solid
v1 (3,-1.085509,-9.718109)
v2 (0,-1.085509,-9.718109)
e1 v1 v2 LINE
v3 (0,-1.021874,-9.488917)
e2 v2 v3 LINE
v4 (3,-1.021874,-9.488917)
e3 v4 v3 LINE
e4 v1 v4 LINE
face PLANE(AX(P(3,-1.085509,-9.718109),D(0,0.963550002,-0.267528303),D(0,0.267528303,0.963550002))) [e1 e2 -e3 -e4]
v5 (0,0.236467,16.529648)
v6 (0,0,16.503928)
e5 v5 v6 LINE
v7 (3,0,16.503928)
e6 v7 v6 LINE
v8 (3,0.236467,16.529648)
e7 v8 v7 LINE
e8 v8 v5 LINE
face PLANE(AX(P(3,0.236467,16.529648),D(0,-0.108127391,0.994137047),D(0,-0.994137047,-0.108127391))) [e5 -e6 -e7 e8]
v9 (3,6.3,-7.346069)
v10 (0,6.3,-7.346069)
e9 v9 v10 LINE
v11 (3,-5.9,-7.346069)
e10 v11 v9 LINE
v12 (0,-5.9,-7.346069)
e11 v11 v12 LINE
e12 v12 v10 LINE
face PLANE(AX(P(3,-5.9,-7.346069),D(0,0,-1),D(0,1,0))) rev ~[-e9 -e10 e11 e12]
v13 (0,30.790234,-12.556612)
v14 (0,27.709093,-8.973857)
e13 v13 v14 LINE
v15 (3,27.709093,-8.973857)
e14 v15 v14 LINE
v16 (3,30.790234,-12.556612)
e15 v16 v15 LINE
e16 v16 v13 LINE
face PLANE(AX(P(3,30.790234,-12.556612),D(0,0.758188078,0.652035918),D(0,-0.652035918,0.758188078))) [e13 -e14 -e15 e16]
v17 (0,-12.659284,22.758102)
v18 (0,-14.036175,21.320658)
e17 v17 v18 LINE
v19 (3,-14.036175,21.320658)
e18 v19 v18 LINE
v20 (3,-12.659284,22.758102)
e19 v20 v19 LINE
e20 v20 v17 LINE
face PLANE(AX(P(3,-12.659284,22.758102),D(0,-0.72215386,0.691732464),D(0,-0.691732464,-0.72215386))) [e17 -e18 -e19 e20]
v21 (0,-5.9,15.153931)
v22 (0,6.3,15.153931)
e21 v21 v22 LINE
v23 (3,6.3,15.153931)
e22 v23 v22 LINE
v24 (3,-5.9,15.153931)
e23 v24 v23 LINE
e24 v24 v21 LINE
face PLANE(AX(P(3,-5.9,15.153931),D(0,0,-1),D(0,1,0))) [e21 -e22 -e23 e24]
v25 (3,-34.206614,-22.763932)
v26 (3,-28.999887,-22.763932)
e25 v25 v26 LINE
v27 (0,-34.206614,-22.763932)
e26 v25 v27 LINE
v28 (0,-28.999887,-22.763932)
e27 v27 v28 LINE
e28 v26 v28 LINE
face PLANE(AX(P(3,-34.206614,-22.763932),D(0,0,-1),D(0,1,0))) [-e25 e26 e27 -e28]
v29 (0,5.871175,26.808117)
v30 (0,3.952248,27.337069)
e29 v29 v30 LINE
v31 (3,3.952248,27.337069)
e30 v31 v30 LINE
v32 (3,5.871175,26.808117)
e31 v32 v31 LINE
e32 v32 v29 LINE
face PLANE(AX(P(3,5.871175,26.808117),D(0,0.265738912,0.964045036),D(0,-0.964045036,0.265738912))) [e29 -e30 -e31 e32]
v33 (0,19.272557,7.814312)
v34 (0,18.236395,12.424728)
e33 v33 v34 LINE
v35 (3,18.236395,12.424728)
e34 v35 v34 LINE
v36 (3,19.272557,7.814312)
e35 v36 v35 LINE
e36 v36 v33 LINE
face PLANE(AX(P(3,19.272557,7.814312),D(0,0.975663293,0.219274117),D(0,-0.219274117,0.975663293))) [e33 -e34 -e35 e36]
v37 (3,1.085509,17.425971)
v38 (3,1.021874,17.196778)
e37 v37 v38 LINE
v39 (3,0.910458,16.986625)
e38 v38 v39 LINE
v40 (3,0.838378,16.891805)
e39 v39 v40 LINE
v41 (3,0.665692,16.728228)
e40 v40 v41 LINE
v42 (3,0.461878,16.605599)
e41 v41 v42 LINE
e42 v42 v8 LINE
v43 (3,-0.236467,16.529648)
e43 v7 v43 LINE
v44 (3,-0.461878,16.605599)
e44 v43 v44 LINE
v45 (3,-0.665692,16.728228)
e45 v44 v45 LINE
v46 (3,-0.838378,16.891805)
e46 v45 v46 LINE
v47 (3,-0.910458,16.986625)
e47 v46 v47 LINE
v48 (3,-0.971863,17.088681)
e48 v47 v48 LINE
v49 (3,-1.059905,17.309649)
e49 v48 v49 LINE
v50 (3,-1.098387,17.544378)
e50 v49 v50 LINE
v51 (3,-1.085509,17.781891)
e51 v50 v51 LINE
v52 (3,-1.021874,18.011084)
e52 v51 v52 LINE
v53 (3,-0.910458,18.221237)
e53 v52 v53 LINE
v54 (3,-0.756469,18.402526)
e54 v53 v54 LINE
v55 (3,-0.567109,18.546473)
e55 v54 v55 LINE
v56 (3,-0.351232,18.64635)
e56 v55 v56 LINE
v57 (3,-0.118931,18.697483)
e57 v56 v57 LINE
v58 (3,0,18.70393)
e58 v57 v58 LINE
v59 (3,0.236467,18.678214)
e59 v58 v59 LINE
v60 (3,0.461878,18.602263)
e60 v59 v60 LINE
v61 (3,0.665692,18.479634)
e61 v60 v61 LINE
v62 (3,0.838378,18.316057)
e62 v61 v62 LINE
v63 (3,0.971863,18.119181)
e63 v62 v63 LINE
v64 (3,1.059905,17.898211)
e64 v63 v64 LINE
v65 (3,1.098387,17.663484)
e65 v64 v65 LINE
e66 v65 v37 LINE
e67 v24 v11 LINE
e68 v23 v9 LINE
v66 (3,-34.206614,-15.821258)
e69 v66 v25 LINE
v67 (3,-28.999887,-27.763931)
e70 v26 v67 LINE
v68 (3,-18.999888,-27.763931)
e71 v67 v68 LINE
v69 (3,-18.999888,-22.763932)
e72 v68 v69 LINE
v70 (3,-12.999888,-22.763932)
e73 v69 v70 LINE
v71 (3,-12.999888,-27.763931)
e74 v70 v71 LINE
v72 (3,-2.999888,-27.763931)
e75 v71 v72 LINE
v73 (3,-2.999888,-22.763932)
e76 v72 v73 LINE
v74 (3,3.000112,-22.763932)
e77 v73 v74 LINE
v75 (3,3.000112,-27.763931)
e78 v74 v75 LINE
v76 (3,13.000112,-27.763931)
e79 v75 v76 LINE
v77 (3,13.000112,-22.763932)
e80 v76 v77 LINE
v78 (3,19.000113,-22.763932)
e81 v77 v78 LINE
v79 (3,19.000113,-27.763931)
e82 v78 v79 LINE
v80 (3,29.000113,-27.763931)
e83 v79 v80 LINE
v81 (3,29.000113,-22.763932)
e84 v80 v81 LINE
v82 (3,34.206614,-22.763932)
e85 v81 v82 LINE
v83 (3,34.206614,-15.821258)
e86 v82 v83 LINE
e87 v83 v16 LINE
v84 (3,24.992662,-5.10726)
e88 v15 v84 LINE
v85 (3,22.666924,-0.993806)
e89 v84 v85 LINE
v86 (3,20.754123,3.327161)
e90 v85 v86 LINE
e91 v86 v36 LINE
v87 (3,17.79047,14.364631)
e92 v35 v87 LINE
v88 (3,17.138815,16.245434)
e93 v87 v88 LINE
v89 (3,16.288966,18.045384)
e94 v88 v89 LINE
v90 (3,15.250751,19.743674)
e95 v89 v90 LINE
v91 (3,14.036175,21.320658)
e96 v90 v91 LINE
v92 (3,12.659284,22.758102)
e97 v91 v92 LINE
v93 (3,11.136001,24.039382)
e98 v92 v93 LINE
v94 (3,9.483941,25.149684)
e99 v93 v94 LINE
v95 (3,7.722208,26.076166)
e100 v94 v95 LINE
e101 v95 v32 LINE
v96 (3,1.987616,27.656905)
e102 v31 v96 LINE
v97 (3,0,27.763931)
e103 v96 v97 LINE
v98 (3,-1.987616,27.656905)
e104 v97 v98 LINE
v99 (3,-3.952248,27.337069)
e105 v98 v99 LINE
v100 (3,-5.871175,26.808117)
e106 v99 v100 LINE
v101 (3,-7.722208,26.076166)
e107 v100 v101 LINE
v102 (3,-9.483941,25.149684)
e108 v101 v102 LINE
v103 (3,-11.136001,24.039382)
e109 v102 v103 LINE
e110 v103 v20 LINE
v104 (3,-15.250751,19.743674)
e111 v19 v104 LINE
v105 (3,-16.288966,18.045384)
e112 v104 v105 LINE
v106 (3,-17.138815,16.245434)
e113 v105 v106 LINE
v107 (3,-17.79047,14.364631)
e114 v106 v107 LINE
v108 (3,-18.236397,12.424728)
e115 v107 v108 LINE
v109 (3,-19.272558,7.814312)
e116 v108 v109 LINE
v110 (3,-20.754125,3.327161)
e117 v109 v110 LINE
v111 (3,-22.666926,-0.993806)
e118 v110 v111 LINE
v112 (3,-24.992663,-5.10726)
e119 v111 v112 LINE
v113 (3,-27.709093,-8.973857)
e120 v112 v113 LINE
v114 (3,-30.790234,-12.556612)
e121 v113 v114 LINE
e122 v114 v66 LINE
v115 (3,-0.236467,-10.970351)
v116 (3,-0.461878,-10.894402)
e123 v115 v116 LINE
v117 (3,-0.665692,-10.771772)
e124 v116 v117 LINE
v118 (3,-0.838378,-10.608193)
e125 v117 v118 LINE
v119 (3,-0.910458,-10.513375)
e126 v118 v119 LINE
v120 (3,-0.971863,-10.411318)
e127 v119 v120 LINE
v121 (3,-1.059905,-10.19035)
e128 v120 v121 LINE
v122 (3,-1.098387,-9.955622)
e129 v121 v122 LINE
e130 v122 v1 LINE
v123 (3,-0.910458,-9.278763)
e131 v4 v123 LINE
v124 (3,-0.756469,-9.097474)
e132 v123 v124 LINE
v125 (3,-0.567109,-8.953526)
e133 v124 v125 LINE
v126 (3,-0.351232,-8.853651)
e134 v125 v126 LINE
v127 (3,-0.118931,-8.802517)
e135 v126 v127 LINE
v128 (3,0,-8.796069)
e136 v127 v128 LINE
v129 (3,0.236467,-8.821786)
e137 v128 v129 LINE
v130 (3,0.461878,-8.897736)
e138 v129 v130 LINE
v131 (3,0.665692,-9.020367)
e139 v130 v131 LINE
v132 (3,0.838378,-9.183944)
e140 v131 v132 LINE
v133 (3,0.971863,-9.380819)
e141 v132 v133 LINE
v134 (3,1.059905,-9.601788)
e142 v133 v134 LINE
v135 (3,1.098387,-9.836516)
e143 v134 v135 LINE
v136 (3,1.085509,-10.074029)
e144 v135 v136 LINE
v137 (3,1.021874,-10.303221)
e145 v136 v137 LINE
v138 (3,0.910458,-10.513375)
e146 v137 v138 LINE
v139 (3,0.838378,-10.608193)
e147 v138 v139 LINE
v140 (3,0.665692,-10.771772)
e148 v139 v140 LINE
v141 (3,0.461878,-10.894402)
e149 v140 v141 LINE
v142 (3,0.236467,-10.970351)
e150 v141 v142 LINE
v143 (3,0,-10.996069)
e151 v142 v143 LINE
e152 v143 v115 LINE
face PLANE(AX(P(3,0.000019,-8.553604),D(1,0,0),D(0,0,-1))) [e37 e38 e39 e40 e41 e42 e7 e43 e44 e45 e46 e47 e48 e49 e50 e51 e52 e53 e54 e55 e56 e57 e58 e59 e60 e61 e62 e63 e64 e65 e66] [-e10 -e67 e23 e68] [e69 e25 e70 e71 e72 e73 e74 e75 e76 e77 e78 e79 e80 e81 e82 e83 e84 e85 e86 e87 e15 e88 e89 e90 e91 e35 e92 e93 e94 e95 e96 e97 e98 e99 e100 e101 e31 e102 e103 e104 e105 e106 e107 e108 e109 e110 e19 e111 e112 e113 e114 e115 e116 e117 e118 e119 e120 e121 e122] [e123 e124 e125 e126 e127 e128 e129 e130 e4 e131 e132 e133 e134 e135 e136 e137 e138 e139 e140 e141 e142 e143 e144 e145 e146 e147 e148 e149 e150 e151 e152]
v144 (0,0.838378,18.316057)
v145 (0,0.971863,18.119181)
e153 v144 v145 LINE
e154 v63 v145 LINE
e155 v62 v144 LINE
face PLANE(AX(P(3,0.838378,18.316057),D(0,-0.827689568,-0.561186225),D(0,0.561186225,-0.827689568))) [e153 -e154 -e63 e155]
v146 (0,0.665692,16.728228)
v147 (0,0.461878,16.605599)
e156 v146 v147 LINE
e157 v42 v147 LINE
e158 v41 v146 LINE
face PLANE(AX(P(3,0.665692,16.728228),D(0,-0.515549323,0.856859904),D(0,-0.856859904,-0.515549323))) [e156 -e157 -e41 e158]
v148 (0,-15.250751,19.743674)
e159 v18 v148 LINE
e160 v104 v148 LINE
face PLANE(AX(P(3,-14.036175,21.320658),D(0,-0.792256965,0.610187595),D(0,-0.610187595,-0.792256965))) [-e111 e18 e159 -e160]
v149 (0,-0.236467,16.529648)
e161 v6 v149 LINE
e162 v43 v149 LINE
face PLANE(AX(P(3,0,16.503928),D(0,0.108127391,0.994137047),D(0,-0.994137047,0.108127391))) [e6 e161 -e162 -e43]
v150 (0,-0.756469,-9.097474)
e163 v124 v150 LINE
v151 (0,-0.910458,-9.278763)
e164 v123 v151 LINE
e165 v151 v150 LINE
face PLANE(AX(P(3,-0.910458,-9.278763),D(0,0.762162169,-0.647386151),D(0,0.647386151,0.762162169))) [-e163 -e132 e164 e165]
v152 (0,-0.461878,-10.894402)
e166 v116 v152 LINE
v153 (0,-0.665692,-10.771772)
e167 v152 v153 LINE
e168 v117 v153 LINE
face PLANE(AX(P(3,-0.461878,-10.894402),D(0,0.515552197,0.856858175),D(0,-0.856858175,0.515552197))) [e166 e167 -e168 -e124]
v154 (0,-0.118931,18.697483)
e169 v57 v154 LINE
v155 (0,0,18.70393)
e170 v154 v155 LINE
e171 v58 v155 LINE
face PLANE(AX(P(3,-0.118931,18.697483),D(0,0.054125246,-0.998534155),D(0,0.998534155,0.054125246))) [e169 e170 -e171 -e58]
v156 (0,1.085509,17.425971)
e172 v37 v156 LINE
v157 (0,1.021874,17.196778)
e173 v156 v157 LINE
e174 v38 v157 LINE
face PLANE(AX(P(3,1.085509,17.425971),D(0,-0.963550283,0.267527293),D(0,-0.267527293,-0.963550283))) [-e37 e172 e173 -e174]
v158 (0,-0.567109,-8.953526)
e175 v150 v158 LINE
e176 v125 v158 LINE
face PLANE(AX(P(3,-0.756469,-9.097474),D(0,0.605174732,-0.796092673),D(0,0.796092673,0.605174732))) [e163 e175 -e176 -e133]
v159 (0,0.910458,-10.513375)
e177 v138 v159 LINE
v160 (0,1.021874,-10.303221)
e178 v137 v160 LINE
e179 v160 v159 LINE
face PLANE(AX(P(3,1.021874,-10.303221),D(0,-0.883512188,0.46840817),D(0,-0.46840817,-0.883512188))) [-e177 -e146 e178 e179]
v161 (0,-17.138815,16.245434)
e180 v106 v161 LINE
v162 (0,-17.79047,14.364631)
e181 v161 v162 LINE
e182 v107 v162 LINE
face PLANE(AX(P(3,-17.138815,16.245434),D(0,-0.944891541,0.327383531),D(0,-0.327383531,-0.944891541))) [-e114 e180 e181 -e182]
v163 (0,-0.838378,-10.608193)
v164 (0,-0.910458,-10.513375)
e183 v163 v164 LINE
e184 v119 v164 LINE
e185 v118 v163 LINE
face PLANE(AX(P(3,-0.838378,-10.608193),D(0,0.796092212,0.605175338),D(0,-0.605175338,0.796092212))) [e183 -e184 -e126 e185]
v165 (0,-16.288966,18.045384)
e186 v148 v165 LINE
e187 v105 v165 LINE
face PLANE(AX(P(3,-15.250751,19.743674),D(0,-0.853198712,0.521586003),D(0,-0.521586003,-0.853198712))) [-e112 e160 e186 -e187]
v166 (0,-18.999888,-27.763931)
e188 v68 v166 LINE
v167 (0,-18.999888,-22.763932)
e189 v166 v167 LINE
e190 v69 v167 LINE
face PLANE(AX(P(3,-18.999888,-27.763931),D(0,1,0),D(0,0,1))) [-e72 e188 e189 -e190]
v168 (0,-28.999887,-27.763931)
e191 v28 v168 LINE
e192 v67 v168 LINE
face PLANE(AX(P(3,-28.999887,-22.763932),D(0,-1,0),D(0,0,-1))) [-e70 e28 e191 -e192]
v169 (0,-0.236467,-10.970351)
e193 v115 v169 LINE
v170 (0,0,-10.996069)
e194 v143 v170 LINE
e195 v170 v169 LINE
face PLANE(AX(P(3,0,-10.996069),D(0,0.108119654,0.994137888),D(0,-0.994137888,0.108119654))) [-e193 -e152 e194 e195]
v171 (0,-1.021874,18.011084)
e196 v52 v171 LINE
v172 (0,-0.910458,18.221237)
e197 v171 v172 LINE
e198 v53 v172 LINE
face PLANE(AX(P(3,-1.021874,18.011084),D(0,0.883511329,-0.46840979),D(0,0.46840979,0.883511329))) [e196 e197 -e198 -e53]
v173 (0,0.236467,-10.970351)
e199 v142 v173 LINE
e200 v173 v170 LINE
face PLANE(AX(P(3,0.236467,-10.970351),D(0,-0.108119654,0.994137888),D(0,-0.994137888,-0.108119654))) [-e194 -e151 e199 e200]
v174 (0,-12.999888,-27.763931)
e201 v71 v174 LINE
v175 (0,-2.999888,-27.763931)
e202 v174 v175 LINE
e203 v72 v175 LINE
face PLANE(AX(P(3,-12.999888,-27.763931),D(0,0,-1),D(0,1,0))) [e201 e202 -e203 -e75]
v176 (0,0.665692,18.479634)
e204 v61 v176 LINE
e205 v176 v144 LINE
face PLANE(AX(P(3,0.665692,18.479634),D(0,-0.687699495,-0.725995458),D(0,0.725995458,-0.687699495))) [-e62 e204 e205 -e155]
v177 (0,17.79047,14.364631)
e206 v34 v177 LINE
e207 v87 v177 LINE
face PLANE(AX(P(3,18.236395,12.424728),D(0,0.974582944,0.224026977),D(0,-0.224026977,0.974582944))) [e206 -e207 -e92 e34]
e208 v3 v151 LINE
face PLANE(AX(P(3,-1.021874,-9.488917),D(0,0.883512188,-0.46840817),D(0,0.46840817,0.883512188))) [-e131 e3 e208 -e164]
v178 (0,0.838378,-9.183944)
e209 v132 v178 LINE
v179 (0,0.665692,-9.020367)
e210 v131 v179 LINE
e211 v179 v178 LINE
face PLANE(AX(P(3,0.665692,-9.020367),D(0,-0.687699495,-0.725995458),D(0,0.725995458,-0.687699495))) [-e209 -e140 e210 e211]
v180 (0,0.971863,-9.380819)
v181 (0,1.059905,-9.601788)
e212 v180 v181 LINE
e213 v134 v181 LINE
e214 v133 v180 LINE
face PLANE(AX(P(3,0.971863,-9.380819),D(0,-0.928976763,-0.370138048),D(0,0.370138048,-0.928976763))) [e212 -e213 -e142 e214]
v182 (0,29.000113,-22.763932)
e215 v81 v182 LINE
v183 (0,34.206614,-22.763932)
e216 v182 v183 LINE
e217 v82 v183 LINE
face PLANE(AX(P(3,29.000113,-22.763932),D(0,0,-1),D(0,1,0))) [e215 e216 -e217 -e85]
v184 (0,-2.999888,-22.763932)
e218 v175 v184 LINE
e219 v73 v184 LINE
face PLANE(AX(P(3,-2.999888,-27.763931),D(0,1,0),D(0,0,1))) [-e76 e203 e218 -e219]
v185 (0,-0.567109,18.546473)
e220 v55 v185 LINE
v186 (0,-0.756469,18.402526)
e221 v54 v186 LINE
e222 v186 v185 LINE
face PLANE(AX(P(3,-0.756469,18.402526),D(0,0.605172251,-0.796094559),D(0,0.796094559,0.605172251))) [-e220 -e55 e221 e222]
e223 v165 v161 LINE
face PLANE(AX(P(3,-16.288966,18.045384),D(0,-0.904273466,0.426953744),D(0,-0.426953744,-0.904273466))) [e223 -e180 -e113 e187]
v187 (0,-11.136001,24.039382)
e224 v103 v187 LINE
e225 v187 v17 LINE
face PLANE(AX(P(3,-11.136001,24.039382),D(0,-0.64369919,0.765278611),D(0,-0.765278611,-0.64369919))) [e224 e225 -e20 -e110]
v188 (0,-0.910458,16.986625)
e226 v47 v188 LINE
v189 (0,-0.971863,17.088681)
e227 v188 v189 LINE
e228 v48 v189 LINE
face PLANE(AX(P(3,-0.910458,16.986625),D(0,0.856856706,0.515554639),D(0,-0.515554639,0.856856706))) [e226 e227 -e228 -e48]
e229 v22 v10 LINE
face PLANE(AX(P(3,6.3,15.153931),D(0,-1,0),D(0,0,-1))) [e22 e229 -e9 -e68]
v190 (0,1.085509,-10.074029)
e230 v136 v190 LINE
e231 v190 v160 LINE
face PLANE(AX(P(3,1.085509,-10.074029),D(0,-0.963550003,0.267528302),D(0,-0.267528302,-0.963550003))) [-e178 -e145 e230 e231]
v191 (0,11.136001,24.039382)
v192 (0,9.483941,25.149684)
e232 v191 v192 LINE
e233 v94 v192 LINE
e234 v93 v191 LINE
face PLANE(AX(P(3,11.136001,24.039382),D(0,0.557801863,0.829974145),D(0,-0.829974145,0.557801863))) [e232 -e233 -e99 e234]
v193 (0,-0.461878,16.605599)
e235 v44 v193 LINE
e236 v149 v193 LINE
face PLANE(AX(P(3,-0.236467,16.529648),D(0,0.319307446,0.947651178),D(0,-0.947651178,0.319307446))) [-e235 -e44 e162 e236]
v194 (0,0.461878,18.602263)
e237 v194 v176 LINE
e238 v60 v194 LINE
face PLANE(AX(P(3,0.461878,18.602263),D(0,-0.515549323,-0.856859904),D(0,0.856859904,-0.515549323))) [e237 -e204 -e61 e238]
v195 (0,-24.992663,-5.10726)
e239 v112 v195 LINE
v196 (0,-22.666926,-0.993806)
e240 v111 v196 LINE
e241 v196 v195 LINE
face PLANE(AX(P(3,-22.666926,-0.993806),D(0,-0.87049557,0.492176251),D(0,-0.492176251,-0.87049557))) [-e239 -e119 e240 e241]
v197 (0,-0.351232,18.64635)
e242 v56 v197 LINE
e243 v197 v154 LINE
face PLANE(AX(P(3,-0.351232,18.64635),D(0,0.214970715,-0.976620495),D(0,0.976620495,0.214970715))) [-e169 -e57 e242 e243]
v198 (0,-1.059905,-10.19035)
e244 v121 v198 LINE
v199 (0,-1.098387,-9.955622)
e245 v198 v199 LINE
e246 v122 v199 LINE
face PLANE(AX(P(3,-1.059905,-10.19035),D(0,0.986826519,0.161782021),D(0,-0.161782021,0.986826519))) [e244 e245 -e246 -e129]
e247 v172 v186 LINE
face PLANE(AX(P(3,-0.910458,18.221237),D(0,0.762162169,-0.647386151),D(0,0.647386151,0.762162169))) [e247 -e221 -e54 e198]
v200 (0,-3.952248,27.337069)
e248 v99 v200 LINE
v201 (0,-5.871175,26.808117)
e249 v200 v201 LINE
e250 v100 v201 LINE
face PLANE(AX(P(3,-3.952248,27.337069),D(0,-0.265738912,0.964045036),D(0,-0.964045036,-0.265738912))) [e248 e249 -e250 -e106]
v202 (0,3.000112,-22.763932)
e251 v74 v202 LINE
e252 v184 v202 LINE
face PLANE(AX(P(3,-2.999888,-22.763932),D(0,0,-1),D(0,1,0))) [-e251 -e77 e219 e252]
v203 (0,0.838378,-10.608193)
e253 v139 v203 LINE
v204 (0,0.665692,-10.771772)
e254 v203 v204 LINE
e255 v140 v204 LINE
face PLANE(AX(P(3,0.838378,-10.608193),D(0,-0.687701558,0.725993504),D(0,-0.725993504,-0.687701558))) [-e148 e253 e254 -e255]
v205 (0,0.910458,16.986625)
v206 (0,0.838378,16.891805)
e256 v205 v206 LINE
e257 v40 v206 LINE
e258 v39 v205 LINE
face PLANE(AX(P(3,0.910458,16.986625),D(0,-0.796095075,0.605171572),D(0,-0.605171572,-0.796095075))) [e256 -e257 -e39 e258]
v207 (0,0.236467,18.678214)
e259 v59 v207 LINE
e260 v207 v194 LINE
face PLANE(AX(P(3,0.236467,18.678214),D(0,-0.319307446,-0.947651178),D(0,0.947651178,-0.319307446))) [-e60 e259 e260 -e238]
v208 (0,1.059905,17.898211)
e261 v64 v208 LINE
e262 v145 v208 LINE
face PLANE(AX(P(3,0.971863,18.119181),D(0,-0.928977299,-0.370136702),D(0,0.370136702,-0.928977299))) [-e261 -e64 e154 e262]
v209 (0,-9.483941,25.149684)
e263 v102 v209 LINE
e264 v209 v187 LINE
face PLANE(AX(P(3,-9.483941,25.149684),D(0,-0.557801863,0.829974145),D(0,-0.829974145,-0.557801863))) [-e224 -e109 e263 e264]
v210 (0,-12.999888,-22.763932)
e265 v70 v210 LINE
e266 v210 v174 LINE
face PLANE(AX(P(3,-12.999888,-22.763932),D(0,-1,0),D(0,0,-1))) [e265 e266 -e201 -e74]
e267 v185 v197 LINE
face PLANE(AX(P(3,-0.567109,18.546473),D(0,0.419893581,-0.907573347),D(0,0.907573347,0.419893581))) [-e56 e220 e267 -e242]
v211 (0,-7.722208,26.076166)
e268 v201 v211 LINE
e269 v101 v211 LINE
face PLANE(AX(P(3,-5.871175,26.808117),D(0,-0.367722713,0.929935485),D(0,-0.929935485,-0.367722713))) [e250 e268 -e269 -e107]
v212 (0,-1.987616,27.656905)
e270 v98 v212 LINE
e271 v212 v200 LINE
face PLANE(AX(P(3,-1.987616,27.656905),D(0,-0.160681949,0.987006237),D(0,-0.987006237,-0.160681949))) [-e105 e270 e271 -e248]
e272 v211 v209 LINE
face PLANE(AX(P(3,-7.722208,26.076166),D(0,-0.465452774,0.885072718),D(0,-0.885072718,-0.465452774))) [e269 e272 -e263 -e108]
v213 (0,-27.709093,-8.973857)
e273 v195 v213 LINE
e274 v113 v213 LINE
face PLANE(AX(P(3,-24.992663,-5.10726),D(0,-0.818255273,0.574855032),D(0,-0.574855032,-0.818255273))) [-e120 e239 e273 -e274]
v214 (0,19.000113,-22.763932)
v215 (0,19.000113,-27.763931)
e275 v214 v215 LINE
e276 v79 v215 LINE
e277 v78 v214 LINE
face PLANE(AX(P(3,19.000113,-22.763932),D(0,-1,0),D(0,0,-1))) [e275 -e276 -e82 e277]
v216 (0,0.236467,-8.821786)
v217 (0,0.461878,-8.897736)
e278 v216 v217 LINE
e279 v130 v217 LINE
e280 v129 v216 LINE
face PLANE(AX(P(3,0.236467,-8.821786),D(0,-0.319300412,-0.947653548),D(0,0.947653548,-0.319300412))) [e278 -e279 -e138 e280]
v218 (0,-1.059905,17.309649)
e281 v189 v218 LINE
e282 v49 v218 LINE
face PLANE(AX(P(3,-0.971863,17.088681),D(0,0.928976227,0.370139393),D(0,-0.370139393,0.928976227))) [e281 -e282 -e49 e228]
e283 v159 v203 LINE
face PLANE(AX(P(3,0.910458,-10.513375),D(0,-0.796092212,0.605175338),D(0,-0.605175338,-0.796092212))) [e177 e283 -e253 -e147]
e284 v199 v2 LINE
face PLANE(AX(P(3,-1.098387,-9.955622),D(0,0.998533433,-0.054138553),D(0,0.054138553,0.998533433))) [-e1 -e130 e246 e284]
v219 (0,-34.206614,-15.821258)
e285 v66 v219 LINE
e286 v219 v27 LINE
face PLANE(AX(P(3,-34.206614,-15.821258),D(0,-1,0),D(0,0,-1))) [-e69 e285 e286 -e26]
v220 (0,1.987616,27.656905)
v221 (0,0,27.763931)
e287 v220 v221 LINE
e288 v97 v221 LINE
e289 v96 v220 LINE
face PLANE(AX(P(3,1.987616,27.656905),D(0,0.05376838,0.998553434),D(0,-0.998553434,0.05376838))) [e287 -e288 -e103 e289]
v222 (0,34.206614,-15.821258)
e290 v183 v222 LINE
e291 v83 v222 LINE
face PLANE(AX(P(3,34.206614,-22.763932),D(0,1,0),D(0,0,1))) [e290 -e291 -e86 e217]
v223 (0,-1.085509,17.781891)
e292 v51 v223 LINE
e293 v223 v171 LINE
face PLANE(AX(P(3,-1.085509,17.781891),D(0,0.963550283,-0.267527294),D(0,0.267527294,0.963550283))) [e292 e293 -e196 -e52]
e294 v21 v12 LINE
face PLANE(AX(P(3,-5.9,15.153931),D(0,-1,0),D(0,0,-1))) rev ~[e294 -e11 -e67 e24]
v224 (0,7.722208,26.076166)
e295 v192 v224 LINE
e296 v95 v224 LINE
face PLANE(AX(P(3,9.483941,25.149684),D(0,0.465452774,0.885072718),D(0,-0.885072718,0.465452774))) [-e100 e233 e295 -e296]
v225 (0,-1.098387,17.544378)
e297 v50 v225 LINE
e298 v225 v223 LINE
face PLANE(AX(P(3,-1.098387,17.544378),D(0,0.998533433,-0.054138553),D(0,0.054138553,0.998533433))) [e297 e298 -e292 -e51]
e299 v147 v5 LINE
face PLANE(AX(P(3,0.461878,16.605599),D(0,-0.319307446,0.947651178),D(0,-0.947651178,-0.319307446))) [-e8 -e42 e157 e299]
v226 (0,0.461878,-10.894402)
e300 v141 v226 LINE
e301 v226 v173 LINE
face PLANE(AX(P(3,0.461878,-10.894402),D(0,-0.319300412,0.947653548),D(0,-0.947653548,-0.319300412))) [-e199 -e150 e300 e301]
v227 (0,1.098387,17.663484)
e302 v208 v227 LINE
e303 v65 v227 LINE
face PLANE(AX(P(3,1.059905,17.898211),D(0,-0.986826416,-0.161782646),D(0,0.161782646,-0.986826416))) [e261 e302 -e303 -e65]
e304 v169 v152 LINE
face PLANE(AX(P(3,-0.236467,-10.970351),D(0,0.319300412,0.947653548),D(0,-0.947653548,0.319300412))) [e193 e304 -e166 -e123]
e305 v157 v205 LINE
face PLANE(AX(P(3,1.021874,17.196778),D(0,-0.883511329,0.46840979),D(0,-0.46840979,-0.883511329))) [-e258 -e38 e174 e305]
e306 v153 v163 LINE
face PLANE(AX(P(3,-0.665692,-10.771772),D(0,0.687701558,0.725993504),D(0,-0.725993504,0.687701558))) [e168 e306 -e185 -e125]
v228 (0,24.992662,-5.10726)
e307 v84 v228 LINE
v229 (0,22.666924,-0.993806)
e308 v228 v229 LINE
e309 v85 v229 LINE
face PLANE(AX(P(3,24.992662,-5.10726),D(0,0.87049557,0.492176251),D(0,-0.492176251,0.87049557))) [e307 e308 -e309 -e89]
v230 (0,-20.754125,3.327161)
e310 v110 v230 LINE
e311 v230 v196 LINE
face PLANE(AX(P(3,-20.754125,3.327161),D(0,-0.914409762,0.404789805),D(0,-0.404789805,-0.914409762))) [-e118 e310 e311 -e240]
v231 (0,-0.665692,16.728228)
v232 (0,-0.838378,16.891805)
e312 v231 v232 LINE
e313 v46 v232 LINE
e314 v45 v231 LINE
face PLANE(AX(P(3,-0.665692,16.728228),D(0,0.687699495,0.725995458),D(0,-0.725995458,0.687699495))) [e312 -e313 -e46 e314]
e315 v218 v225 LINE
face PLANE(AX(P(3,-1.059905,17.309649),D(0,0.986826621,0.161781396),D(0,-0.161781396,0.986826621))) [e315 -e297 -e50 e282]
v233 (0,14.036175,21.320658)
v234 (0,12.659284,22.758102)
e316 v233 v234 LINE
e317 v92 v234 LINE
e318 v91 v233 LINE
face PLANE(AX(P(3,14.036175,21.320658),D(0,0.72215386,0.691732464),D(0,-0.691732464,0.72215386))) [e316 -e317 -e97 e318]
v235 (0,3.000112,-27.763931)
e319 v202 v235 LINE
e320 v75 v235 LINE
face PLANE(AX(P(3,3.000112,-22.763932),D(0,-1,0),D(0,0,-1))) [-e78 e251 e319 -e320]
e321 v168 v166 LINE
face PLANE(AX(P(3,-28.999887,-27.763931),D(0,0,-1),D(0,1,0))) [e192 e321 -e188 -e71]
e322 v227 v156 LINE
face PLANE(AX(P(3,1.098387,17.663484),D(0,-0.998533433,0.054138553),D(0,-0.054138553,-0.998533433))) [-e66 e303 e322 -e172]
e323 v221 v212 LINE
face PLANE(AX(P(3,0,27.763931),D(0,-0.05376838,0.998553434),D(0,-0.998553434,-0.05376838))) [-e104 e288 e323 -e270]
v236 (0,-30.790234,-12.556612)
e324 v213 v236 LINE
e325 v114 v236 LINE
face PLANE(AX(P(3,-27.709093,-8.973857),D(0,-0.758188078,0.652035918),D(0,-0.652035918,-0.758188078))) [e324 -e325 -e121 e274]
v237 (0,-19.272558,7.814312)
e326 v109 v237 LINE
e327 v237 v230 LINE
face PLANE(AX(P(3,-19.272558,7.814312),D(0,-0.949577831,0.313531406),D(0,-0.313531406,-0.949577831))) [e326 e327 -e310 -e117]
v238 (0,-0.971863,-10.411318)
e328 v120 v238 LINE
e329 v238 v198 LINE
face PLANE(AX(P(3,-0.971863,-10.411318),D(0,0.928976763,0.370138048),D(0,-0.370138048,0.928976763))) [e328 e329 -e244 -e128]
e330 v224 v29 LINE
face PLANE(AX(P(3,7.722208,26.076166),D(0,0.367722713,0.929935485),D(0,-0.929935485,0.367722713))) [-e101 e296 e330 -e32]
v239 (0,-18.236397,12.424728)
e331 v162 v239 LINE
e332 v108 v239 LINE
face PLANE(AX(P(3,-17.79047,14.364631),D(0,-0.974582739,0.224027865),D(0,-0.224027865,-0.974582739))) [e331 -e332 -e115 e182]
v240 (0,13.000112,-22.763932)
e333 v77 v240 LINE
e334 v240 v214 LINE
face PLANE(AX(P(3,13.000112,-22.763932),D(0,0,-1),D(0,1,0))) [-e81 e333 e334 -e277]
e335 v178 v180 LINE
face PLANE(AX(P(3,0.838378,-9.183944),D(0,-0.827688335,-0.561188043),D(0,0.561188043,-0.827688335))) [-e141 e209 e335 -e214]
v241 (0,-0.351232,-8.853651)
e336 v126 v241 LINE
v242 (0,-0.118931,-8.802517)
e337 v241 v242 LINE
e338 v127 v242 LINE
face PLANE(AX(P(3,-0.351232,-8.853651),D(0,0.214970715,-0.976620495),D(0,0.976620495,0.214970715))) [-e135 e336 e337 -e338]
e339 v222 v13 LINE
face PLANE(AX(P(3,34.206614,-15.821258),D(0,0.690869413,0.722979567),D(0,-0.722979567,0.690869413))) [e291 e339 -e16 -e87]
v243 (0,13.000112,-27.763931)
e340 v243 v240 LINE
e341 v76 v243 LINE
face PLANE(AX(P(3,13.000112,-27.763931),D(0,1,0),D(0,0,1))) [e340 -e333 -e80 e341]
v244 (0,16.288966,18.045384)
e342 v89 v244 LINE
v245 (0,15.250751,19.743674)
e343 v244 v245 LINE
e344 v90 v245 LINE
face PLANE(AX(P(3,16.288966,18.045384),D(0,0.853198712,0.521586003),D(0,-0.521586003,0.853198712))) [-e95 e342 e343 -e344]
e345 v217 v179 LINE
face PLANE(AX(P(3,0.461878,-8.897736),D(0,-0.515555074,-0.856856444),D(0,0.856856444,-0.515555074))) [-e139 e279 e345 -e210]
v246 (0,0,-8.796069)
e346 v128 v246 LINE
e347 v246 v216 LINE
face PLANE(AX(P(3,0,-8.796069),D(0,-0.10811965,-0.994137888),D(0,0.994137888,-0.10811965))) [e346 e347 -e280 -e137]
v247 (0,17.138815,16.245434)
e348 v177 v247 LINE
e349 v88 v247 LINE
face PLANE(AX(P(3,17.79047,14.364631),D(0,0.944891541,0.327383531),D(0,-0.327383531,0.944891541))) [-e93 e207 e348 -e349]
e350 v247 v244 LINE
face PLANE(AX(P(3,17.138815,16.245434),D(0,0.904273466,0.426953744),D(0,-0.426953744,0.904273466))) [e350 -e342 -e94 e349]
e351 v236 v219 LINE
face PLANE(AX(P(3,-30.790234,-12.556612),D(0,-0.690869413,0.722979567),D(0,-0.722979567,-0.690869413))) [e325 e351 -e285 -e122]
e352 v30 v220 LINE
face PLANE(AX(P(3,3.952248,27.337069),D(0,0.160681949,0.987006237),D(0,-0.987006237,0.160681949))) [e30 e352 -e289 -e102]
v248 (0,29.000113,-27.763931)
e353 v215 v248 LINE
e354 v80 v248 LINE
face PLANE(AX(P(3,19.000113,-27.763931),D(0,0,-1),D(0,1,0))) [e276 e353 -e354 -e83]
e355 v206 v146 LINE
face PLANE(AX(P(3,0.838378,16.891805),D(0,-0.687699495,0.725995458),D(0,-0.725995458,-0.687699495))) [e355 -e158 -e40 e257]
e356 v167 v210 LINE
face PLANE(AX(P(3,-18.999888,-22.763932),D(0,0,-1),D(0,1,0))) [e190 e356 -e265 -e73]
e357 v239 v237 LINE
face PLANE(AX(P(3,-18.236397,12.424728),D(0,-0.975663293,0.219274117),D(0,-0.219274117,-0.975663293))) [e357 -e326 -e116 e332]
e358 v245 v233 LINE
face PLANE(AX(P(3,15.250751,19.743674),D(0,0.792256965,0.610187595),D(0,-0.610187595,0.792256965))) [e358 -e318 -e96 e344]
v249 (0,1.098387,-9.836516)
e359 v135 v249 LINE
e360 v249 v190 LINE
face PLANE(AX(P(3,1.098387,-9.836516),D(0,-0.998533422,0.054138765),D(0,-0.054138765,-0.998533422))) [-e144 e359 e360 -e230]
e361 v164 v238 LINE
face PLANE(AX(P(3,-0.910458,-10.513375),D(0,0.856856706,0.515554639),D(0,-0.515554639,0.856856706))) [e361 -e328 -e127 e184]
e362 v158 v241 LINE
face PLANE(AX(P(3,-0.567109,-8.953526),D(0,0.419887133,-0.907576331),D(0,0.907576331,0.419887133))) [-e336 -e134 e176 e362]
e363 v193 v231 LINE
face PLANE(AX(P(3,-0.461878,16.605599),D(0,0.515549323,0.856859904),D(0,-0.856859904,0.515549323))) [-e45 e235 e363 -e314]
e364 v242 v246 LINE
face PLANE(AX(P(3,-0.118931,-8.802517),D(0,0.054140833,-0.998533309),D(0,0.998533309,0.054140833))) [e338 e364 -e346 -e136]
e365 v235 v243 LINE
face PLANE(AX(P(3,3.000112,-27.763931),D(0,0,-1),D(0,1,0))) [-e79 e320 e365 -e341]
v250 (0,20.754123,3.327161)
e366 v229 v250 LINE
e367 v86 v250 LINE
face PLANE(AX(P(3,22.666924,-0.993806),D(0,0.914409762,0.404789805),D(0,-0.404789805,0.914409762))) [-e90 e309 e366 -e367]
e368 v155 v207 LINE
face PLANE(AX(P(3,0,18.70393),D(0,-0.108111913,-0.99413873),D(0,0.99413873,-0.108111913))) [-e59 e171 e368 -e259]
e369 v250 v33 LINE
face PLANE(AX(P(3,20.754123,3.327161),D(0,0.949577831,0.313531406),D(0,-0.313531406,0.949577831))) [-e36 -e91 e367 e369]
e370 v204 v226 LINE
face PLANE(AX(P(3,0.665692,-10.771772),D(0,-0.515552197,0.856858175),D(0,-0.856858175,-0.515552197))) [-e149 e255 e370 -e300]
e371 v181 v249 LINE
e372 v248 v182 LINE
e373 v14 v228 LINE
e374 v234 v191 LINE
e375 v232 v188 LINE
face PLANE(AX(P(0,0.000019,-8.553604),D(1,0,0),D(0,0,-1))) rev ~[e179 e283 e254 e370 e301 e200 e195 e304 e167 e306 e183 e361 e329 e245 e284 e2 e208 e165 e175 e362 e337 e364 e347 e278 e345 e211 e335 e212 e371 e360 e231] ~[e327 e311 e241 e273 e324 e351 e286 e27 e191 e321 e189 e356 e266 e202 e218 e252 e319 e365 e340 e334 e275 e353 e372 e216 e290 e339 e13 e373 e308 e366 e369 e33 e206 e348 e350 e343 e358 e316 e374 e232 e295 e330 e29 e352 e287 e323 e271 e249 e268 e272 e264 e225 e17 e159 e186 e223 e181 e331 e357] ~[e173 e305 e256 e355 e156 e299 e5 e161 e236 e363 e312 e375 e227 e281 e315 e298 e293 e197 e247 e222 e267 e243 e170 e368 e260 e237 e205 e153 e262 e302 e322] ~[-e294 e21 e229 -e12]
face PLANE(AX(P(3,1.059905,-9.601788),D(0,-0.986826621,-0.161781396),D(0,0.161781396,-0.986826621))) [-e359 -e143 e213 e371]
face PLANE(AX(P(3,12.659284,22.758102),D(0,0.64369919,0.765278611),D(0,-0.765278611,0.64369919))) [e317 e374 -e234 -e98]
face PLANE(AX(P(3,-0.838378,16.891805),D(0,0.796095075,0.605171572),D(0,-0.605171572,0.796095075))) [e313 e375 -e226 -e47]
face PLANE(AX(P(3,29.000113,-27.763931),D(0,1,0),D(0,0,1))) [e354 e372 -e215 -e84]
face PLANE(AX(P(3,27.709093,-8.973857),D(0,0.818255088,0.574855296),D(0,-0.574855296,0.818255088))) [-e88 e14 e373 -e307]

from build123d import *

# Parameters (mm, degrees)
SKETCH1_W           = 22.5
SKETCH1_H           = 12.2
BOSS_EXTRUDE1_DEPTH = 3.000000026


with BuildPart() as part:
    # Sketch1 → Boss-Extrude1 (new body)
    with BuildSketch(Plane(origin=(3.000000026, 0, 0), x_dir=(0, 0, -1), z_dir=(1, 0, 0))):
        Polygon((-21.320657805, 14.036174864), (-22.758102044, 12.659284286), (-24.039382115, 11.136000976), (-25.149684399, 9.483940899), (-26.076165959, 7.722207811), (-26.808116585, 5.871174857), (-27.337068692, 3.952247556), (-27.656905353, 1.987616299), (-27.763931081, 0), (-27.656905353, -1.987616299), (-27.337068692, -3.952247556), (-26.808116585, -5.871174857), (-26.076165959, -7.722207811), (-25.149684399, -9.483940899), (-24.039382115, -11.136000976), (-22.758102044, -12.659284286), (-21.320657805, -14.036174864), (-19.743673503, -15.250750817), (-18.045384437, -16.28896594), (-16.245434061, -17.138814554), (-14.364630915, -17.790470272), (-12.424727902, -18.236396834), (-7.814312354, -19.272558391), (-3.327161307, -20.754124969), (0.993806054, -22.666925564), (5.107260309, -24.992663413), (8.973857388, -27.709092945), (12.55661156, -30.790233985), (15.821257606, -34.206613898), (22.763932127, -34.206613898), (22.763932127, -28.999887407), (27.763931084, -28.999887407), (27.763931084, -18.99988763), (22.763932127, -18.99988763), (22.763932127, -12.999887578), (27.763931084, -12.999887578), (27.763931084, -2.999887569), (22.763932127, -2.999887569), (22.763932127, 3.000112483), (27.763931084, 3.000112483), (27.763931084, 13.000112027), (22.763932127, 13.000112027), (22.763932127, 19.00011301), (27.763931084, 19.00011301), (27.763931084, 29.000112787), (22.763932127, 29.000112787), (22.763932127, 34.206613898), (15.821257606, 34.206613898), (12.55661156, 30.790233985), (8.973857388, 27.709092945), (5.107260309, 24.992661551), (0.993806054, 22.666923702), (-3.327161307, 20.754123107), (-7.814312354, 19.272556528), (-12.424727902, 18.236394972), (-14.364630915, 17.790470272), (-16.245434061, 17.138814554), (-18.045384437, 16.28896594), (-19.743673503, 15.250750817), align=None)
        with Locations((-3.903931454, 0.199999778)):
            Rectangle(SKETCH1_W, SKETCH1_H, mode=Mode.SUBTRACT)
        Polygon((-18.119180575, 0.971863221), (-17.898211256, 1.059905044), (-17.663484439, 1.098386711), (-17.425971106, 1.085509197), (-17.196778208, 1.02187437), (-16.986625269, 0.910457922), (-16.891805455, 0.83837827), (-16.728227958, 0.665691623), (-16.605598852, 0.461878022), (-16.529647633, 0.236467487), (-16.503928229, 0), (-16.529647633, -0.236467487), (-16.605598852, -0.461878022), (-16.728227958, -0.665691623), (-16.891805455, -0.83837827), (-16.986625269, -0.910457922), (-17.088681459, -0.971863221), (-17.309648916, -1.059905044), (-17.544377595, -1.098386711), (-17.781890929, -1.085509197), (-18.011083826, -1.02187437), (-18.221236765, -0.910457922), (-18.402526155, -0.756469381), (-18.546473235, -0.567109266), (-18.64635013, -0.351231691), (-18.697483465, -0.118930919), (-18.70393008, 0), (-18.678214401, 0.236467487), (-18.602263182, 0.461878022), (-18.479634076, 0.665691623), (-18.316056579, 0.83837827), align=None, mode=Mode.SUBTRACT)
        Polygon((9.380819276, 0.971863221), (9.601787664, 1.059905044), (9.836516343, 1.098386711), (10.074028745, 1.085509197), (10.303220712, 1.02187437), (10.513374582, 0.910457922), (10.608193465, 0.83837827), (10.771771893, 0.665691623), (10.89440193, 0.461878022), (10.970351286, 0.236467487), (10.996068828, 0), (10.970351286, -0.236467487), (10.89440193, -0.461878022), (10.771771893, -0.665691623), (10.608193465, -0.83837827), (10.513374582, -0.910457922), (10.411318392, -0.971863221), (10.190350004, -1.059905044), (9.955622256, -1.098386711), (9.718108922, -1.085509197), (9.488916956, -1.02187437), (9.278763086, -0.910457922), (9.097473696, -0.756469381), (8.953525685, -0.567109266), (8.853650652, -0.351231691), (8.802517317, -0.118930919), (8.79606884, 0), (8.821786381, 0.236467487), (8.897735737, 0.461878022), (9.020366706, 0.665691623), (9.183944203, 0.83837827), align=None, mode=Mode.SUBTRACT)
    extrude(amount=-BOSS_EXTRUDE1_DEPTH)


solid = part.part
